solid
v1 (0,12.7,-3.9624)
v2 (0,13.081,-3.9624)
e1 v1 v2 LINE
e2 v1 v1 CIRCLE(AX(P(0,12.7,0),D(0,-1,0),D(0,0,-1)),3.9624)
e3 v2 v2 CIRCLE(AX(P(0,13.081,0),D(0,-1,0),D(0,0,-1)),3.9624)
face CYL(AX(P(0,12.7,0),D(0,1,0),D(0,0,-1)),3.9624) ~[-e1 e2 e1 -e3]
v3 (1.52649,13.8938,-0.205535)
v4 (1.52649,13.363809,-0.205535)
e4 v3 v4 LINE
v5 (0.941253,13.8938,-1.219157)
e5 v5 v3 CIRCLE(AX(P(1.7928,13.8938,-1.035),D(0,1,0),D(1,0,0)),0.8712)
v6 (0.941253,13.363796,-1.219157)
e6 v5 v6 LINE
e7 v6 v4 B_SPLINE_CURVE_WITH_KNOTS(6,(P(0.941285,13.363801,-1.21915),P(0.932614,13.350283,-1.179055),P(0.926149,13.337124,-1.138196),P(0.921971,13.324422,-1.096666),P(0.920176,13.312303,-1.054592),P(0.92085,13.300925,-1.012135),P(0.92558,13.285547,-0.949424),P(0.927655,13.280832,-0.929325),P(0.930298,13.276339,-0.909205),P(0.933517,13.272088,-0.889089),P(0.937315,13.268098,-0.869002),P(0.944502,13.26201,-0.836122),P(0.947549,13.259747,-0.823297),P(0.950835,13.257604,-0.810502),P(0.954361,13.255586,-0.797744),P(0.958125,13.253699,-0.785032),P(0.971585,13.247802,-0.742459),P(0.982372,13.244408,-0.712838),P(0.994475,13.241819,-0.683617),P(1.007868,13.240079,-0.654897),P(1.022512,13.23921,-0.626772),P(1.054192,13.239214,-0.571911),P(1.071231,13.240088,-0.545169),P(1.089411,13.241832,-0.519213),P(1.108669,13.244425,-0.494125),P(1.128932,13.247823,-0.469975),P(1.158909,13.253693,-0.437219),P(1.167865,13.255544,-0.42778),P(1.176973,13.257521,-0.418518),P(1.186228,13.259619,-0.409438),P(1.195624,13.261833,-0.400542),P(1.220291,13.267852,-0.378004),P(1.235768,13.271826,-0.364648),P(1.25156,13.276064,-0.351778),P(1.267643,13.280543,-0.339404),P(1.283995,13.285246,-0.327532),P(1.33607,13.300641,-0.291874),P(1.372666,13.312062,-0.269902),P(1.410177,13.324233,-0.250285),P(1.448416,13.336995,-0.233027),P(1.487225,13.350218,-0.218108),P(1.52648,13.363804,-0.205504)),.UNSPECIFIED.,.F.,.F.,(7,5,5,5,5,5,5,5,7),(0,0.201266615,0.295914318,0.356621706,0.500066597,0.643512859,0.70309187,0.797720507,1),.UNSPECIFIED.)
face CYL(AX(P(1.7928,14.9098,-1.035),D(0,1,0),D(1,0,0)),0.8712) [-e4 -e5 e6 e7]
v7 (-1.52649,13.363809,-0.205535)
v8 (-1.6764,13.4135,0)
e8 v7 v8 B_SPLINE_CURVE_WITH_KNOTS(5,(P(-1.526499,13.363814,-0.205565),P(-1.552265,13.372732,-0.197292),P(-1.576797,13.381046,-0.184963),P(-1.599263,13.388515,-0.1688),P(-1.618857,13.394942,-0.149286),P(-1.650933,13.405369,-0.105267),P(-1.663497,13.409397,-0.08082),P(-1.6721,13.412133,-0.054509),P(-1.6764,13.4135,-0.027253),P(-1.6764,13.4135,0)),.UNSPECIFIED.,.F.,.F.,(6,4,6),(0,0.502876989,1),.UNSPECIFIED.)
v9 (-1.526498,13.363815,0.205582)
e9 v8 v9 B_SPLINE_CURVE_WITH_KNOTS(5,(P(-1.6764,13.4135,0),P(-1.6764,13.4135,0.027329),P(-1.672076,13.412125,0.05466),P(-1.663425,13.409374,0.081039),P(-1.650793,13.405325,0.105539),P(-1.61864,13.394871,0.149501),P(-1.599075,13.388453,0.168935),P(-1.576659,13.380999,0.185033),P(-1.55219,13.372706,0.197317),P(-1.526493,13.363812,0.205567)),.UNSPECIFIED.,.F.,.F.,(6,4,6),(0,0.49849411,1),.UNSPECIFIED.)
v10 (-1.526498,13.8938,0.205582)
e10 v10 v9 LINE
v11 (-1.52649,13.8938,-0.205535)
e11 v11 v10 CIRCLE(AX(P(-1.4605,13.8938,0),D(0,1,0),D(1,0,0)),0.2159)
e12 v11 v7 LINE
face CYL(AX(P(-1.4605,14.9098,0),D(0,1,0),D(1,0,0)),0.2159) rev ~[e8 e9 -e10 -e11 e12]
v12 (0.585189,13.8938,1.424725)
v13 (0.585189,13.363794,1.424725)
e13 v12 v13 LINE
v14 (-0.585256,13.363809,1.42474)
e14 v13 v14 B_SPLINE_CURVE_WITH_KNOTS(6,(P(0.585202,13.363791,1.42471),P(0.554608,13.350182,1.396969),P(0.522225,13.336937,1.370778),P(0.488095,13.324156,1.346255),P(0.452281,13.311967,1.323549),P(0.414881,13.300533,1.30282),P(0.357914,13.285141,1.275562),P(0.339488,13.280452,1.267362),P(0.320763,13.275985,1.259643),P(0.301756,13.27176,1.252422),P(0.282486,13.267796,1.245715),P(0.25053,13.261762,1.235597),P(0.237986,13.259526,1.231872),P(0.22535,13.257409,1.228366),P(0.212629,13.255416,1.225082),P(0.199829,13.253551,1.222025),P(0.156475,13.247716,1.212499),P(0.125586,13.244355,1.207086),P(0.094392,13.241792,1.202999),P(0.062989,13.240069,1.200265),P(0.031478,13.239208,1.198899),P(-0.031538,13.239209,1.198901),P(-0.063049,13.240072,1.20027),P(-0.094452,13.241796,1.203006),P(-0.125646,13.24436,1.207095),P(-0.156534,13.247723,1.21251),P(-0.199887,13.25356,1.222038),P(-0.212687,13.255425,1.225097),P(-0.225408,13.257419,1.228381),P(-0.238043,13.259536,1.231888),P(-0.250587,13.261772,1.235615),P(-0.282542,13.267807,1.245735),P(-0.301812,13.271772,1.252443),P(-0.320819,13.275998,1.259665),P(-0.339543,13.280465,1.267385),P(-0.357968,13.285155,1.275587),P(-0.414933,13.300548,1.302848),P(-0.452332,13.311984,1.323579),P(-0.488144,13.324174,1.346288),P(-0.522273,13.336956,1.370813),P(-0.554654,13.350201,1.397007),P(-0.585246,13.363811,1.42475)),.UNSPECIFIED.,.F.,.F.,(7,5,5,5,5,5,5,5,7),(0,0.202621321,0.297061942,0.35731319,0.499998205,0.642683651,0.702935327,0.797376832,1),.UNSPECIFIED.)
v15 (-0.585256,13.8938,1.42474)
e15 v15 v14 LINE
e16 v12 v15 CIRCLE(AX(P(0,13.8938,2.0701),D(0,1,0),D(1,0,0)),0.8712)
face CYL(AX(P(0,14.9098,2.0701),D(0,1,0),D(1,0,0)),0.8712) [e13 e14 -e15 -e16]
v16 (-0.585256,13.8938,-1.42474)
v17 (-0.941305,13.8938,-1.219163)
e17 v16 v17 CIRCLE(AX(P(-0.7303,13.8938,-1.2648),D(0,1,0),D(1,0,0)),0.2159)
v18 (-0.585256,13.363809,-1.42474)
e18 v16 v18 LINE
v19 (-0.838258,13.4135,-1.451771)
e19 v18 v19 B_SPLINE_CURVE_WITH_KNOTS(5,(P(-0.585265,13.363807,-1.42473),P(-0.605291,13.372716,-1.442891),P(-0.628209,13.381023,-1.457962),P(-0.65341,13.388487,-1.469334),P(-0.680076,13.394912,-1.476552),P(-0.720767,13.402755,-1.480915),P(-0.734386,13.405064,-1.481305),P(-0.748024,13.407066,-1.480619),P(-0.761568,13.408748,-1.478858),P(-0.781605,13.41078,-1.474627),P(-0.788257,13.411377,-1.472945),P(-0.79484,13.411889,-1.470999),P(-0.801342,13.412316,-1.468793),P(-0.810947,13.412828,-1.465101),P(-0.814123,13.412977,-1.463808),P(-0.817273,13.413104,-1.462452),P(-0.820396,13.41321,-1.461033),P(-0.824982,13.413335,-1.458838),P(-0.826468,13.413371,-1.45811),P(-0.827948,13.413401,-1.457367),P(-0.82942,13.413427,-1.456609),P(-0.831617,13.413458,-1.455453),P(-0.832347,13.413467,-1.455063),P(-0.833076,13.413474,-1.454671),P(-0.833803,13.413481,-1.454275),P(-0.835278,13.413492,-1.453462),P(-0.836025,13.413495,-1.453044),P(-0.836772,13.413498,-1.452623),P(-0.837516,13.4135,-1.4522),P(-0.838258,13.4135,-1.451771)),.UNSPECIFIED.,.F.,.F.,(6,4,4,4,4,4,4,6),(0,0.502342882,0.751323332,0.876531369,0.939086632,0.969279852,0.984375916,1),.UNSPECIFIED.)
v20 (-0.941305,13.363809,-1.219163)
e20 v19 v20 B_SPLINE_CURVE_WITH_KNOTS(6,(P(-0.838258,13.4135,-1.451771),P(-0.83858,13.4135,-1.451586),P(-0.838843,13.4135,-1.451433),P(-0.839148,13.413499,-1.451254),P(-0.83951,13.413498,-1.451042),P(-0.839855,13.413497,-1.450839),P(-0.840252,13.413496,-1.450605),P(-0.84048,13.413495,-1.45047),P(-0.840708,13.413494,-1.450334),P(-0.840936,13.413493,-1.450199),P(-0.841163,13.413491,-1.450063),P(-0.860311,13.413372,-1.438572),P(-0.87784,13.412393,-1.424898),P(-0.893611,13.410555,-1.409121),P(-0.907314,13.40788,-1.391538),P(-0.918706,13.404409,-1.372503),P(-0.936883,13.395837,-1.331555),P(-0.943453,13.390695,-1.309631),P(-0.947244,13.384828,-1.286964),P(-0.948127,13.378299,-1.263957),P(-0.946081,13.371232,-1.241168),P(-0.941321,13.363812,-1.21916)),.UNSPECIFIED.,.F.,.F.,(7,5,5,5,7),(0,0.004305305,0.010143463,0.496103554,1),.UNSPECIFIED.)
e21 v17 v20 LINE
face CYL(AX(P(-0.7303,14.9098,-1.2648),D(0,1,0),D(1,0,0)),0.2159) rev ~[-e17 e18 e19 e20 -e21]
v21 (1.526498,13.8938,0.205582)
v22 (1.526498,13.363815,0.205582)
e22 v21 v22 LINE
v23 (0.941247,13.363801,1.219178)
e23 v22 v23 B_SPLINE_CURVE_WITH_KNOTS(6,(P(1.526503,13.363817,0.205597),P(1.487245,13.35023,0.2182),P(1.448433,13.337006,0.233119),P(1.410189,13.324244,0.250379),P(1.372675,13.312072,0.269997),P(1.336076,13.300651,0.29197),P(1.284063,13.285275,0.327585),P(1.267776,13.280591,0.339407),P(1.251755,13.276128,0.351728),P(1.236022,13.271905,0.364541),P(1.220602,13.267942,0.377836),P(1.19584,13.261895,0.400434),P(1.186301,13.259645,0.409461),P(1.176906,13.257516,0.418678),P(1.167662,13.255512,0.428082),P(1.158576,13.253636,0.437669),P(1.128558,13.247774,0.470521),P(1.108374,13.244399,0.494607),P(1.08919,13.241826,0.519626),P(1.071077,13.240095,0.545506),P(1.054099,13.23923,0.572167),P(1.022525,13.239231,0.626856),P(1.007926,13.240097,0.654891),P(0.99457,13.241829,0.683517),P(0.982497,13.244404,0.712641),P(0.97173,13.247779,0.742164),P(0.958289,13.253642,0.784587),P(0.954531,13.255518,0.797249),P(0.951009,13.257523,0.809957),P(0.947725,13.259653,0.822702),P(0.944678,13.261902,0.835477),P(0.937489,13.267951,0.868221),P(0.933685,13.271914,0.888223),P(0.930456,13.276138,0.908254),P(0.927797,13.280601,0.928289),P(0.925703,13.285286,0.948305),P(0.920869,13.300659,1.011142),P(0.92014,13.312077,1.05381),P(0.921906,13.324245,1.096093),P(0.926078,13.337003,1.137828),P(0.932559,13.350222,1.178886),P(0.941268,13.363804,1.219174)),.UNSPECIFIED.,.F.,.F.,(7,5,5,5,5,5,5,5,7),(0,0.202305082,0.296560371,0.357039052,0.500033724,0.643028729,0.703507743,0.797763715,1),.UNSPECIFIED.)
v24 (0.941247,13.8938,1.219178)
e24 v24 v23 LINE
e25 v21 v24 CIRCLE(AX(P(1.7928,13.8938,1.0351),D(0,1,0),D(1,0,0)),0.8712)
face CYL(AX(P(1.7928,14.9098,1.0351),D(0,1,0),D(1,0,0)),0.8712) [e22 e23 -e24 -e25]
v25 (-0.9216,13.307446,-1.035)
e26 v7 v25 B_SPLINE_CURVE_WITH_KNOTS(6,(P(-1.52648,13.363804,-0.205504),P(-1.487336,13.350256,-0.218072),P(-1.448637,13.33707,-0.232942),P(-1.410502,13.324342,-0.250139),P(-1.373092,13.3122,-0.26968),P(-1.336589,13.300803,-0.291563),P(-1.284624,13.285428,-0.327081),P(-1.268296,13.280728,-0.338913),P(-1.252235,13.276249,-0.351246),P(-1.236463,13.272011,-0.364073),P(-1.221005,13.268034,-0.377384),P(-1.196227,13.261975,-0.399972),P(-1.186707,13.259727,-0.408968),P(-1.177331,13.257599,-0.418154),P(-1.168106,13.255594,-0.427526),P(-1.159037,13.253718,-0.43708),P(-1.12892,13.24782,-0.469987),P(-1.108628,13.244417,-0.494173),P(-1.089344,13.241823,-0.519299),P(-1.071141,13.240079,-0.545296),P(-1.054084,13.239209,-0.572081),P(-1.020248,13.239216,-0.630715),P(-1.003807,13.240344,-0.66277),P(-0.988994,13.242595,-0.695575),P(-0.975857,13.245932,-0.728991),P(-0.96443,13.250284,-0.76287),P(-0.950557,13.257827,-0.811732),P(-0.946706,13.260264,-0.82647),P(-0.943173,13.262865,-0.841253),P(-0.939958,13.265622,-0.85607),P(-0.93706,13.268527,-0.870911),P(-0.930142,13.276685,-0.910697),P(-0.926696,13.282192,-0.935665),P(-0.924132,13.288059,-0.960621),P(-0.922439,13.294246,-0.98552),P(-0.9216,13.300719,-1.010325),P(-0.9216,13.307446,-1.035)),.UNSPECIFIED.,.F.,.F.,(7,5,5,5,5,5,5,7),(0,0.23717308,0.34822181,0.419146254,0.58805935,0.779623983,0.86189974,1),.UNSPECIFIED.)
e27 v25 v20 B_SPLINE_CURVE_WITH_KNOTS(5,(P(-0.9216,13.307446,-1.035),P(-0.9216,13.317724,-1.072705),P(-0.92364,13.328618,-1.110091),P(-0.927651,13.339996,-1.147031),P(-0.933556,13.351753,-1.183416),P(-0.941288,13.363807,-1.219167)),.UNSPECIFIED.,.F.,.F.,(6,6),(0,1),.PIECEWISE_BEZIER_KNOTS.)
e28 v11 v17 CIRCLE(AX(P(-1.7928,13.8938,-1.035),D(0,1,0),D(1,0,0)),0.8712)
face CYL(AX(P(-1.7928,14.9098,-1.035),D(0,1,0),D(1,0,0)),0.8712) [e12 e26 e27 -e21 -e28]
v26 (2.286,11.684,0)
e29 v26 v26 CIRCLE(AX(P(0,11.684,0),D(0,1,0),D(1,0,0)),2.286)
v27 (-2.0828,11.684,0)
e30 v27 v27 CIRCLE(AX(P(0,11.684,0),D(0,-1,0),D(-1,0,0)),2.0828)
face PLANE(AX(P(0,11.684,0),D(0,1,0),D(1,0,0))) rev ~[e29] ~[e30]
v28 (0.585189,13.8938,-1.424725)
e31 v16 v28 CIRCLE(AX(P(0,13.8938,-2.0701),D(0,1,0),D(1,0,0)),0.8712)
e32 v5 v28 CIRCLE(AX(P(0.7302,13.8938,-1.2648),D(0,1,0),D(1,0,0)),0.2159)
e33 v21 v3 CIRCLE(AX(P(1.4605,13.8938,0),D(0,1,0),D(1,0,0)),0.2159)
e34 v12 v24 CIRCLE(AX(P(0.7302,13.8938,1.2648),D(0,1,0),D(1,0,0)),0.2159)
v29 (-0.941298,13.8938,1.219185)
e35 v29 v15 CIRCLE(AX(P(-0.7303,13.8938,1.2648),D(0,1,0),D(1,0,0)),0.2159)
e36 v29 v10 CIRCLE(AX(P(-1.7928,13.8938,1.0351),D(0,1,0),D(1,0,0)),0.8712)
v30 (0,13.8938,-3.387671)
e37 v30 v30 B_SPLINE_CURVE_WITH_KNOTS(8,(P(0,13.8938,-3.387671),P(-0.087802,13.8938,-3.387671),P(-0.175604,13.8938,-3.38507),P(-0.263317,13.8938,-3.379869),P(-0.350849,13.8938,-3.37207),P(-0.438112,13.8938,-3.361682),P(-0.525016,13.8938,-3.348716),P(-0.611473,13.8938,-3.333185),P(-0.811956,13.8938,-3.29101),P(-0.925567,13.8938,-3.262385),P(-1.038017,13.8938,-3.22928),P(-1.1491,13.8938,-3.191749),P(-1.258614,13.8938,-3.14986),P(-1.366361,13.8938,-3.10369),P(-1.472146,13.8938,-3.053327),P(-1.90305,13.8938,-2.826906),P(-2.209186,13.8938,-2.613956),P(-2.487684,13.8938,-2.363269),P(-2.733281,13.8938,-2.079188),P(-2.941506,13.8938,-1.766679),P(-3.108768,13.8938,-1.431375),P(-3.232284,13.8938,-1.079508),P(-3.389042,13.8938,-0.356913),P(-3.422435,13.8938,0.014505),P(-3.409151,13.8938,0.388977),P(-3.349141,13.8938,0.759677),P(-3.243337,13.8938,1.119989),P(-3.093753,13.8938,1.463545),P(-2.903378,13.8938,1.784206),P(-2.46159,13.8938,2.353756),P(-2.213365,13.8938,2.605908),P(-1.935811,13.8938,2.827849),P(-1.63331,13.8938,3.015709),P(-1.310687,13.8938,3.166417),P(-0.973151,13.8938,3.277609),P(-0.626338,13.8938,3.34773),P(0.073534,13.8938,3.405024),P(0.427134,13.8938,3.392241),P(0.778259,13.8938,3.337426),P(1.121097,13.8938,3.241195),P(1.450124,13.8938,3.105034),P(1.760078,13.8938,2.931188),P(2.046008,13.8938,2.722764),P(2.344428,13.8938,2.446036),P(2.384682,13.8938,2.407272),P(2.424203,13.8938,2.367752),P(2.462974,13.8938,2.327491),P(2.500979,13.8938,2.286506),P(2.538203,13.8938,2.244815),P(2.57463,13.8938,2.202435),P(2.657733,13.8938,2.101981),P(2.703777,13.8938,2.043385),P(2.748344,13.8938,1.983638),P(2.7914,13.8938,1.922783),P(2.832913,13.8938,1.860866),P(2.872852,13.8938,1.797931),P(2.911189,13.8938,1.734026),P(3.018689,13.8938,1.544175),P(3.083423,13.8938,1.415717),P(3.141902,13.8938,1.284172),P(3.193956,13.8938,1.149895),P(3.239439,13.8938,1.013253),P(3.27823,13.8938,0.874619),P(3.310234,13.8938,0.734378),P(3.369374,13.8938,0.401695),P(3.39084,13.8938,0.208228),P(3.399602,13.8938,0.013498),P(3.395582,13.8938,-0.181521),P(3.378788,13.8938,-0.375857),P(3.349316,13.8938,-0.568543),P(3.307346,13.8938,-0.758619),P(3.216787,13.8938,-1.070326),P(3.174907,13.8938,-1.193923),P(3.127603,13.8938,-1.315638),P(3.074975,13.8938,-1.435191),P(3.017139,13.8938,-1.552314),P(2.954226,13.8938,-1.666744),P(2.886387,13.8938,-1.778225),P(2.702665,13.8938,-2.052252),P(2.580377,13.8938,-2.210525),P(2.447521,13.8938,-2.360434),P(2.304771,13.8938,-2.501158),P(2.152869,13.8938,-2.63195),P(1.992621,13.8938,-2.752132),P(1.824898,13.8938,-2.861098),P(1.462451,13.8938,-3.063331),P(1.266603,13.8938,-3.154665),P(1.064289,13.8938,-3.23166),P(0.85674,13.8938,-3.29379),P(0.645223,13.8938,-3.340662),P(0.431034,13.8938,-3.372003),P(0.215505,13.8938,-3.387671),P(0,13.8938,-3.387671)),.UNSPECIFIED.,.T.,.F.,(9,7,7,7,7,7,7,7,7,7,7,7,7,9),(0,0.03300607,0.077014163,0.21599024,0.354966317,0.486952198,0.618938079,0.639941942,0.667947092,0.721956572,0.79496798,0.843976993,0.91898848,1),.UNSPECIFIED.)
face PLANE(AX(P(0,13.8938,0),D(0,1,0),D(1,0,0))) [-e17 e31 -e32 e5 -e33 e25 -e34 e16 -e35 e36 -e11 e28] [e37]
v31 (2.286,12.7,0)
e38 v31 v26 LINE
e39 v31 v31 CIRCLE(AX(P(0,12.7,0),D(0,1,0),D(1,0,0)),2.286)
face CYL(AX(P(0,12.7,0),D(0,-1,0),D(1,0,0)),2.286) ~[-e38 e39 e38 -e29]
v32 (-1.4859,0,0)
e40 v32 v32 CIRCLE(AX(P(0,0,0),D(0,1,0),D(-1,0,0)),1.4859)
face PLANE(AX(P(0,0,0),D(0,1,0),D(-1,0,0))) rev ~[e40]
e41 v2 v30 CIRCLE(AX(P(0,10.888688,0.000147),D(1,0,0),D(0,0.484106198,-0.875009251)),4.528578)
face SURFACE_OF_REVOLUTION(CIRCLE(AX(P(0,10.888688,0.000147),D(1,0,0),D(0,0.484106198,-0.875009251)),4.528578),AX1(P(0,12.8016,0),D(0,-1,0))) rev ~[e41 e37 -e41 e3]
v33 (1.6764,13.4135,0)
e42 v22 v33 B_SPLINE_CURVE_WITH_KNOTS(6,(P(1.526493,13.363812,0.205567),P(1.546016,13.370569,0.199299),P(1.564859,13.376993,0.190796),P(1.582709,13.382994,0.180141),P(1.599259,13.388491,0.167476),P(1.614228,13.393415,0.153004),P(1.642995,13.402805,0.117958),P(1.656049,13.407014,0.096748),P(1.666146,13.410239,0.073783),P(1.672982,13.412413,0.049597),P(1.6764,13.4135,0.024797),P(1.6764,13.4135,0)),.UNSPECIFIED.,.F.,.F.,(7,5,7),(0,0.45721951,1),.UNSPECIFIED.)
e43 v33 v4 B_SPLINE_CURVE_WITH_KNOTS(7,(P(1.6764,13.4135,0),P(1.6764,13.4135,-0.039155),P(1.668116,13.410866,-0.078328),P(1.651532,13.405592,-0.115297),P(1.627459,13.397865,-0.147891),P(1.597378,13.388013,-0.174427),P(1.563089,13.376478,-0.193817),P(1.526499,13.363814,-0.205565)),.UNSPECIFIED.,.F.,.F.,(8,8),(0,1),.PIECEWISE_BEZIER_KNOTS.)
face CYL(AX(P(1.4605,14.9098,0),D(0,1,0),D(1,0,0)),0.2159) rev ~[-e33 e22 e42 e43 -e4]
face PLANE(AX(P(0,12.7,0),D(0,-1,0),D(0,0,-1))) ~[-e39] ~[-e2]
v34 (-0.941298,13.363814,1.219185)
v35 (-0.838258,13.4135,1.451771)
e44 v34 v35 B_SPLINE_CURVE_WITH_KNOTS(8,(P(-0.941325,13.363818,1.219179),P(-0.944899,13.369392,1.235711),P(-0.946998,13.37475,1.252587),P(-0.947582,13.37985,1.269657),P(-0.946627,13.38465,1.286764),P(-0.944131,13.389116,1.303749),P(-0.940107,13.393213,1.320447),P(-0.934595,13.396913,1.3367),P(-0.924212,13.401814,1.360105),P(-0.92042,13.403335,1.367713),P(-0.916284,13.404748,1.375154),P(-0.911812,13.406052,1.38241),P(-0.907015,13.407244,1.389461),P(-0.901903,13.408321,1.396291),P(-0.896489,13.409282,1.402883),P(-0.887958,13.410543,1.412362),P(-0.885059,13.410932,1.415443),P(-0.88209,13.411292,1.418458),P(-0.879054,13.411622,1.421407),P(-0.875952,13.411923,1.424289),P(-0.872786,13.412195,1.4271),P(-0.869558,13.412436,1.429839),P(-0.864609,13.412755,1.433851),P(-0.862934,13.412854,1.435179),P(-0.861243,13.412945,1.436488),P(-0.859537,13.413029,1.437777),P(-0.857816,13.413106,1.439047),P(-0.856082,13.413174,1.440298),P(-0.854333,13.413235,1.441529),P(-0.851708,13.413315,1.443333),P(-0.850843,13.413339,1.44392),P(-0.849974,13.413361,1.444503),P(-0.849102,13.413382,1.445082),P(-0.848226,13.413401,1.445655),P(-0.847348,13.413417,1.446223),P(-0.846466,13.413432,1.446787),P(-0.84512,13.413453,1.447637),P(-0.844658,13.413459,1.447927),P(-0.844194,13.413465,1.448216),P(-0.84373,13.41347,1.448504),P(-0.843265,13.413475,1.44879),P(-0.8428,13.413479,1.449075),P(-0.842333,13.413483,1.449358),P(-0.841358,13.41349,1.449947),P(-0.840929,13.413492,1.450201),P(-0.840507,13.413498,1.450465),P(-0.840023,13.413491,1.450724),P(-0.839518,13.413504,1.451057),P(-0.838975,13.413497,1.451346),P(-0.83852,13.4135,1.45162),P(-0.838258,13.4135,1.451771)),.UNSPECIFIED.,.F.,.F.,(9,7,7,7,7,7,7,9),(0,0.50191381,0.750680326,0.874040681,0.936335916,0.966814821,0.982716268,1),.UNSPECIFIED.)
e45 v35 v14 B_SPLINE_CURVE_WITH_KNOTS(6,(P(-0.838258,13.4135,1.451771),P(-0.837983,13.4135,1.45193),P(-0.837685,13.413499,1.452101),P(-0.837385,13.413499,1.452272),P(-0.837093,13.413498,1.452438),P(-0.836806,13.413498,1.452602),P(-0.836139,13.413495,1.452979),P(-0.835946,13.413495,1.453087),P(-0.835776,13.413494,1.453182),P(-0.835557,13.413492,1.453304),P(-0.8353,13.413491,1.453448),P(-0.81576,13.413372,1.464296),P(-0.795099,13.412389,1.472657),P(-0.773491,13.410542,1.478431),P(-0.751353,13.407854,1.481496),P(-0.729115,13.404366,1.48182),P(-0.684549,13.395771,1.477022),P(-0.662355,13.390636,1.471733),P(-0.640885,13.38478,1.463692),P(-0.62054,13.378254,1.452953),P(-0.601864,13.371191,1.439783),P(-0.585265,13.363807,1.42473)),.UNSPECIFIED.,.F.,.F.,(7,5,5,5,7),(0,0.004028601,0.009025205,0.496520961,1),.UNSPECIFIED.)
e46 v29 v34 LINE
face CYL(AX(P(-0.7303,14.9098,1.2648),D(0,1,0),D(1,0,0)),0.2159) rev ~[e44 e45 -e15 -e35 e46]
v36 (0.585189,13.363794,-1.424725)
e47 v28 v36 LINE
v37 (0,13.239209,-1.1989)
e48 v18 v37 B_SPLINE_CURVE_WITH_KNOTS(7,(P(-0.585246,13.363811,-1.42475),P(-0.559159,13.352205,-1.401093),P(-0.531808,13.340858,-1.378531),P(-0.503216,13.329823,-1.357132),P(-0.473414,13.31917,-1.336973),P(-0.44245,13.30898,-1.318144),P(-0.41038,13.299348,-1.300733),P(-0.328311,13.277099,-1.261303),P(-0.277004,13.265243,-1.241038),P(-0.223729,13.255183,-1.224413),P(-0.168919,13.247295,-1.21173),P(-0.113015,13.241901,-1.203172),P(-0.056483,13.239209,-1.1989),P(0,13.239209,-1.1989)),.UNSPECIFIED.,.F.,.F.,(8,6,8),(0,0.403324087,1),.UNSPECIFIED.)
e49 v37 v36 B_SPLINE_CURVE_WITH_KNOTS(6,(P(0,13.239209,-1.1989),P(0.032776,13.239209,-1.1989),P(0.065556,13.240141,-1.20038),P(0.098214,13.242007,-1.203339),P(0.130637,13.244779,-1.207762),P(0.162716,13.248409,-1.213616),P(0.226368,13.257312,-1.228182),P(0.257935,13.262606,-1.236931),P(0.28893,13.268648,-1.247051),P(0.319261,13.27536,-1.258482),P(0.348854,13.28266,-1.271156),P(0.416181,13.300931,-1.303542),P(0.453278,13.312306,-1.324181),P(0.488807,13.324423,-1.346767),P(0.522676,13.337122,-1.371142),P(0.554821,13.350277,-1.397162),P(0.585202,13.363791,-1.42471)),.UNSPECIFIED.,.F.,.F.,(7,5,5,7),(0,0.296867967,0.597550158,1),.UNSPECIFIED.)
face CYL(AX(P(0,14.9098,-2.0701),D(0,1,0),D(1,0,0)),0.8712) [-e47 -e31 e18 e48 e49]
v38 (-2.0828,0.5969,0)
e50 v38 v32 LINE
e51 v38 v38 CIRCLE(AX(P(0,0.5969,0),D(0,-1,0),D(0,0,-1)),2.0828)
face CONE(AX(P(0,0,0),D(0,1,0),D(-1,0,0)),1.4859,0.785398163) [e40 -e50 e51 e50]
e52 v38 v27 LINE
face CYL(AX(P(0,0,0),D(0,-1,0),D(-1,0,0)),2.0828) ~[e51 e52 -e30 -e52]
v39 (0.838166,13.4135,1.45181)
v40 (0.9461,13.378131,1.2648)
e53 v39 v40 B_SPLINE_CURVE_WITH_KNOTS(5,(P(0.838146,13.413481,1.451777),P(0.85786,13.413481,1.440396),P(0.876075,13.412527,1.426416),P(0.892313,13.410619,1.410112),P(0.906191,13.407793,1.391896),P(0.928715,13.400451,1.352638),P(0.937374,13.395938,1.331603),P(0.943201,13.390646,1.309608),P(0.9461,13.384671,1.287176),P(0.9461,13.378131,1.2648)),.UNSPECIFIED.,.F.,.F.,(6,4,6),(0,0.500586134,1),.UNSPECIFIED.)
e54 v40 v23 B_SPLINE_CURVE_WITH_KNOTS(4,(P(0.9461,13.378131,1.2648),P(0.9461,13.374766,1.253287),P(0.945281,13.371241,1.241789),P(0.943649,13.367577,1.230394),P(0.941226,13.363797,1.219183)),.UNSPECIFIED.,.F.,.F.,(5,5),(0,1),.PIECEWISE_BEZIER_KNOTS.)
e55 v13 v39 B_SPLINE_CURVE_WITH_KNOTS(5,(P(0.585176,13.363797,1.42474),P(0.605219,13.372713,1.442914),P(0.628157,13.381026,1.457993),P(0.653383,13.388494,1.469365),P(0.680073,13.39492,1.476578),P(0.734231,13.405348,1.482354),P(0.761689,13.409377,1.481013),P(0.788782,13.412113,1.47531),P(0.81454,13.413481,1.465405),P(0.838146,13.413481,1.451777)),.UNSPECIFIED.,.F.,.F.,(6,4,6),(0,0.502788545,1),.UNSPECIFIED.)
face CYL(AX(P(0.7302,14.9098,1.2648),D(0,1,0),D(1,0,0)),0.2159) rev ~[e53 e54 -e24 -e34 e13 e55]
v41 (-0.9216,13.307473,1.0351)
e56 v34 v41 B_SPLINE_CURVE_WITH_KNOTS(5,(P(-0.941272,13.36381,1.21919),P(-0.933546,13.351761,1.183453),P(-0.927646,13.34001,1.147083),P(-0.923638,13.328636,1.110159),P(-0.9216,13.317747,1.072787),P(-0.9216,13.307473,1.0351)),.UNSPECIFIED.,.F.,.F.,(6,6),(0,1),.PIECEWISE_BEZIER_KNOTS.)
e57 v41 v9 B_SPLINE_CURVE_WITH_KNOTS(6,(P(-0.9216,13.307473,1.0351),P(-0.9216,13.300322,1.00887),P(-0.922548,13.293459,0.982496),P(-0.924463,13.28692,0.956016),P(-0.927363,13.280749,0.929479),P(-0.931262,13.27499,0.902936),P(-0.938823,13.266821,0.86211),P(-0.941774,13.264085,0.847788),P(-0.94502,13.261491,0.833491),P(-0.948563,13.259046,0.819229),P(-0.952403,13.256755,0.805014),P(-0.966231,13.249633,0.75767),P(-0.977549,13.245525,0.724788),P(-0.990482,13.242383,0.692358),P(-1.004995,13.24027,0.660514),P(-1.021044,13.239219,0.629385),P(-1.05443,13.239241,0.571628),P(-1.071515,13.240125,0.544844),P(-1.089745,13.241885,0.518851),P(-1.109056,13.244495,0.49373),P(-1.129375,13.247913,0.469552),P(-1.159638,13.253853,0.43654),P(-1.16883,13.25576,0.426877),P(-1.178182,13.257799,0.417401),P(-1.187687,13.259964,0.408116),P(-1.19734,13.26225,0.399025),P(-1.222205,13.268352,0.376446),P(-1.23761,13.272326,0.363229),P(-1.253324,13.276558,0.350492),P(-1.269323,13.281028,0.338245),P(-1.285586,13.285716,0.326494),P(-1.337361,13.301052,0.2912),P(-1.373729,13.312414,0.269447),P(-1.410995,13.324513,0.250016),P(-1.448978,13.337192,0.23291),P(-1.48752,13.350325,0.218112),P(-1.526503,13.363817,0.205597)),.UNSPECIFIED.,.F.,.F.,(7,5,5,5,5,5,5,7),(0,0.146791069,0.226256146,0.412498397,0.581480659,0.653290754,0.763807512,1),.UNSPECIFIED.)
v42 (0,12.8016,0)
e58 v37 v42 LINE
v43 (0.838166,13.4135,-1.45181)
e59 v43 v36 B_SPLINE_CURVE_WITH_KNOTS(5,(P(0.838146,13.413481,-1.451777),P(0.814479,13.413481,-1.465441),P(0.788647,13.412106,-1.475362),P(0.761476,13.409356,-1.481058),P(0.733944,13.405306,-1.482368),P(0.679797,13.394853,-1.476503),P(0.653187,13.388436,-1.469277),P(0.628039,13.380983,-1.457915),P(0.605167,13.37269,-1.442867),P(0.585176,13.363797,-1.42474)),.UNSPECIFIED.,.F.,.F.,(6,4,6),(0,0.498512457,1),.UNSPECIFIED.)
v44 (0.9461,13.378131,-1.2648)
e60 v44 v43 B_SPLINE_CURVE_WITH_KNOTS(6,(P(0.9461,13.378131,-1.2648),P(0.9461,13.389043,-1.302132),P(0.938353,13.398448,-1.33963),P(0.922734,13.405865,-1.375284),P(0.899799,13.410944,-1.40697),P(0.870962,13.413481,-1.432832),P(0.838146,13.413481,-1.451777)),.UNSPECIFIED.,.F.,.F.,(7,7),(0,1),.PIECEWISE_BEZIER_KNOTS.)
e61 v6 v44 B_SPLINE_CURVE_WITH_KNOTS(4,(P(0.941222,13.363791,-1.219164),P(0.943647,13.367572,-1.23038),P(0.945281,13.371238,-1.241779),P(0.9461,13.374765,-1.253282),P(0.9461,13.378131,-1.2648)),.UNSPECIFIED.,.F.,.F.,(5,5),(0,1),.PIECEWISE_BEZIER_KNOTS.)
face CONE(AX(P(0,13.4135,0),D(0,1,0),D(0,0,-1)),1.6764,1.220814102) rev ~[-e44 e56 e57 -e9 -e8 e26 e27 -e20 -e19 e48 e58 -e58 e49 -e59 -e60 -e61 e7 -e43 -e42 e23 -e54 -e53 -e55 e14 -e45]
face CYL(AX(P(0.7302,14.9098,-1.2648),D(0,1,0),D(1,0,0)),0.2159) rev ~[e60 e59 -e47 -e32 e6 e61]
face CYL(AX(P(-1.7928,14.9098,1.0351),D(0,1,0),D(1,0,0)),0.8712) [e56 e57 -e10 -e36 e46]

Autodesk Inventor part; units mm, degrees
ref_plane "YZ Plane" through (0, 0, 0) normal (1, 0, 0) x (0, 1, 0)
ref_plane "XZ Plane" through (0, 0, 0) normal (0, 1, 0) x (-1, 0, 0)
ref_plane "XY Plane" through (0, 0, 0) normal (0, 0, 1) x (1, 0, 0)
sketch "Sketch1" plane through (0, 0, 0) normal (0, 1, 0) x (-1, 0, 0)
  circle A0 centre (0, 0) radius 2.0828
  dimension "d4" = 4.1656
extrude "Body" add sketch "Sketch1" along normal blind 12.7
sketch "Sketch2" plane through (0, 0, 0) normal (1, 0, 0) x (0, 1, 0)
  line L0 (12.7, -2.0828) -> (12.7, 2.0828) projected
  line L1 (12.7, 0) -> (12.7, -3.9624)
  line L2 (12.7, -3.9624) -> (13.081, -3.9624)
  arc A0 (13.081, -3.9624) -> (14.9098, -2.0828) centre (10.8888, 0) ccw
  line L3 (14.9098, -2.0828) -> (14.9098, -1.6764)
  line L4 (14.9098, -1.6764) -> (13.4135, -1.6764)
  line L5 (13.4135, -1.6764) -> (12.8016, 0)
  line L6 (12.8016, 0) -> (12.7, 0)
  point P0 (0, 0)
  dimension "d5" = 3.9624
  dimension "d6" = 0.381
  dimension "d13" = 0.1016
  dimension "d14" = 2.0828
  dimension "d15" = 2.2098
  dimension "d16" = 0
  dimension "d17" = 1.6764
  dimension "d57" = 20.053
revolve "Head" add sketch "Sketch2" angle 360 about axis through (0, 12.8016, 0) along (0, -1, 0)
sketch "Sketch3" plane through (0, 14.9098, 0) normal (0, 1, 0) x (1, 0, 0)
  circle A0 centre (0, 0) radius 1.6764 projected
  line L0 (0.7302, -1.2648) -> (-0.7303, -1.2648) construction
  line L1 (-0.7303, -1.2648) -> (-1.4605, 0) construction
  line L2 (-1.4605, 0) -> (-0.7303, 1.2648) construction
  line L3 (-0.7303, 1.2648) -> (0.7302, 1.2648) construction
  line L4 (0.7302, 1.2648) -> (1.4605, 0) construction
  line L5 (1.4605, 0) -> (0.7302, -1.2648) construction
  circle A1 centre (-0.7303, -1.2648) radius 0.2159
  circle A2 centre (-1.4605, 0) radius 0.2159
  circle A3 centre (-0.7303, 1.2648) radius 0.2159
  circle A4 centre (0.7302, 1.2648) radius 0.2159
  circle A5 centre (1.4605, 0) radius 0.2159
  circle A6 centre (0.7302, -1.2648) radius 0.2159
  circle A7 centre (0, -2.0701) radius 0.8712
  circle A8 centre (0, 2.0701) radius 0.8712
  circle A9 centre (1.7928, -1.0351) radius 0.8712
  circle A10 centre (-1.7928, 1.035) radius 0.8712
  circle A11 centre (1.7928, 1.035) radius 0.8712
  circle A12 centre (-1.7928, -1.0351) radius 0.8712
  circle A13 centre (0, 0) radius 1.8188
  point P0 (0, 0)
  point P1 (0, 0)
  point P2 (0.9413, 1.2192)
  point P3 (1.5265, 0.2056)
  point P4 (1.5265, -0.2056)
  point P5 (0.9413, -1.2192)
  point P6 (0.5852, -1.4248)
  point P7 (-0.5852, -1.4248)
  point P8 (-0.9413, -1.2192)
  point P9 (-1.5265, -0.2056)
  point P10 (-1.5265, 0.2056)
  point P11 (-0.9413, 1.2192)
  point P12 (-0.5852, 1.4248)
  point P13 (0.5852, 1.4248)
  dimension "d58" = 2.921
  dimension "d59" = 4.1402
  dimension "d62" = 120
extrude "Hex" add sketch "Sketch3" against normal blind 1.778 contours A5 A11 A0 | A0 A11 A13 A9 | A0 A9 A5 | A11 A0 | A0 A11 A13 | A9 A13 A0 | A0 A9 | A11 A4 A0 | A0 A8 A13 A11 | A9 A13 A7 A0 | A0 A6 A9 | A4 A8 A0 | A0 A7 A6 | A8 A0 | A7 A0 | A0 A8 A13 | A7 A13 A0 | A3 A0 A8 | A7 A0 A1 | A0 A10 A13 A8 | A7 A13 A12 A0 | A3 A10 A0 | A0 A12 A1 | A10 A0 A13 | A13 A12 A0 | A10 A0 | A0 A12 | A10 A0 A12 A13 | A10 A2 A0 | A0 A2 A12
sketch "Sketch4" plane through (0, 0, 0) normal (0, 0, 1) x (1, 0, 0)
  line L0 (-0.7364, 13.9698) -> (-1.6764, 14.9098)
  line L1 (0, 14.9098) -> (-0.7364, 13.9698)
  line L2 (0, -1.9152) -> (0, 11.491) projected
  line L3 (-1.5265, 14.9098) -> (-1.5265, 13.3638) projected
  line L4 (-1.5265, 14.9098) -> (-1.5265, 14.9098) projected
  line L5 (-1.5265, 14.9098) -> (-1.5265, 13.3638) projected
  line L6 (-1.6764, 14.9098) -> (-1.5265, 14.9098) projected
  line L7 (-1.6764, 14.9098) -> (0, 14.9098)
  point P0 (0, 0)
  point P1 (-1.6764, 13.4135)
  dimension "d29" = 1.6764
revolve "Head Chamfer" cut sketch "Sketch4" angle 360 about axis through (0, -10, 0) along (0, 1, 0)
feature "Thread" [suppressed]
sketch "Sketch6" plane through (0, 0, 0) normal (0, 0, 1) x (1, 0, 0)
  line L0 (0, 0) -> (-1.4859, 0)
  line L1 (2.0828, 0) -> (-2.0828, 0) projected
  line L2 (-1.4859, 0) -> (-2.4948, 1.0089)
  line L3 (-2.4948, 1.0089) -> (-2.9651, -1.2188)
  line L4 (-2.9651, -1.2188) -> (-1.4859, -1.2188)
  line L5 (-2.0828, 0) -> (-2.0828, 12.7) projected
  line L6 (-1.4859, -1.2188) -> (-1.4859, 0)
  line L7 (0, -2.9358) -> (0, 9.083) projected
  point P0 (-2.0828, 0.5969)
  dimension "d49" = 1.4859
  dimension "d50" = 135
revolve "Tapered End" cut sketch "Sketch6" angle 360 about axis through (0, -10, 0) along (0, 1, 0)
sketch "Sketch8" plane through (0, 0, 0) normal (0, 0, 1) x (1, 0, 0)
  line L0 (-3.9624, 12.7) -> (3.9624, 12.7) projected
  line L1 (0, 12.7) -> (2.286, 12.7)
  line L2 (2.286, 12.7) -> (2.286, 11.684)
  line L3 (2.286, 11.684) -> (0, 11.684)
  line L4 (0, 11.684) -> (0, 12.7)
  point P0 (0, 0)
  dimension "d69" = 2.286
  dimension "d70" = 1.016
revolve "Shoulder" add sketch "Sketch8" angle 360 about axis through (0, 11.684, 0) along (0, 1, 0)
sketch "Sketch9" plane through (0, 14.9098, 0) normal (0, 1, 0) x (1, 0, 0)
  circle A0 centre (0, 0) radius 5.7238
  point P0 (0, 0)
extrude "Extrusion3" cut sketch "Sketch9" against normal blind 1.016
sketch "Sketch5" plane through (0, 0, 0) normal (1, 0, 0) x (0, 1, 0)
  line L0 (0, -2.0828) -> (12.7, -2.0828) projected
  line L1 (12.7, 3.9624) -> (12.7, -3.9624) projected
  line L2 (12.7, -2.0828) -> (12.7, 2.0828) projected
  line L3 (0.0745, -2.0828) -> (-0.2261, -2.6035)
  line L4 (-0.2261, -2.6035) -> (-0.3253, -2.6035)
  line L5 (-0.3253, -2.6035) -> (-0.626, -2.0828)
  line L6 (0.0686, -2.6035) -> (-0.7252, -2.6035) construction
  line L7 (-0.626, -2.0828) -> (0.0745, -2.0828)
  line L8 (0, -2.0828) -> (12.7, -2.0828) projected
  point P0 (0, 0)
  dimension "d31" = 30
  dimension "d32" = 60
  dimension "a" = 0.0992
  dimension "d46" = 0.7937
  dimension "d54" = 0.0686
  dimension "d55" = 0.5207
  dimension "d56" = 0.0992
equation "\"d56\" = a"
equation "\"ShoulderLength\" = 1.016"
properties part number "Shoulder Screw 8-32 Shoulder 0.090 Length 0.290" material "VEX Steel"
